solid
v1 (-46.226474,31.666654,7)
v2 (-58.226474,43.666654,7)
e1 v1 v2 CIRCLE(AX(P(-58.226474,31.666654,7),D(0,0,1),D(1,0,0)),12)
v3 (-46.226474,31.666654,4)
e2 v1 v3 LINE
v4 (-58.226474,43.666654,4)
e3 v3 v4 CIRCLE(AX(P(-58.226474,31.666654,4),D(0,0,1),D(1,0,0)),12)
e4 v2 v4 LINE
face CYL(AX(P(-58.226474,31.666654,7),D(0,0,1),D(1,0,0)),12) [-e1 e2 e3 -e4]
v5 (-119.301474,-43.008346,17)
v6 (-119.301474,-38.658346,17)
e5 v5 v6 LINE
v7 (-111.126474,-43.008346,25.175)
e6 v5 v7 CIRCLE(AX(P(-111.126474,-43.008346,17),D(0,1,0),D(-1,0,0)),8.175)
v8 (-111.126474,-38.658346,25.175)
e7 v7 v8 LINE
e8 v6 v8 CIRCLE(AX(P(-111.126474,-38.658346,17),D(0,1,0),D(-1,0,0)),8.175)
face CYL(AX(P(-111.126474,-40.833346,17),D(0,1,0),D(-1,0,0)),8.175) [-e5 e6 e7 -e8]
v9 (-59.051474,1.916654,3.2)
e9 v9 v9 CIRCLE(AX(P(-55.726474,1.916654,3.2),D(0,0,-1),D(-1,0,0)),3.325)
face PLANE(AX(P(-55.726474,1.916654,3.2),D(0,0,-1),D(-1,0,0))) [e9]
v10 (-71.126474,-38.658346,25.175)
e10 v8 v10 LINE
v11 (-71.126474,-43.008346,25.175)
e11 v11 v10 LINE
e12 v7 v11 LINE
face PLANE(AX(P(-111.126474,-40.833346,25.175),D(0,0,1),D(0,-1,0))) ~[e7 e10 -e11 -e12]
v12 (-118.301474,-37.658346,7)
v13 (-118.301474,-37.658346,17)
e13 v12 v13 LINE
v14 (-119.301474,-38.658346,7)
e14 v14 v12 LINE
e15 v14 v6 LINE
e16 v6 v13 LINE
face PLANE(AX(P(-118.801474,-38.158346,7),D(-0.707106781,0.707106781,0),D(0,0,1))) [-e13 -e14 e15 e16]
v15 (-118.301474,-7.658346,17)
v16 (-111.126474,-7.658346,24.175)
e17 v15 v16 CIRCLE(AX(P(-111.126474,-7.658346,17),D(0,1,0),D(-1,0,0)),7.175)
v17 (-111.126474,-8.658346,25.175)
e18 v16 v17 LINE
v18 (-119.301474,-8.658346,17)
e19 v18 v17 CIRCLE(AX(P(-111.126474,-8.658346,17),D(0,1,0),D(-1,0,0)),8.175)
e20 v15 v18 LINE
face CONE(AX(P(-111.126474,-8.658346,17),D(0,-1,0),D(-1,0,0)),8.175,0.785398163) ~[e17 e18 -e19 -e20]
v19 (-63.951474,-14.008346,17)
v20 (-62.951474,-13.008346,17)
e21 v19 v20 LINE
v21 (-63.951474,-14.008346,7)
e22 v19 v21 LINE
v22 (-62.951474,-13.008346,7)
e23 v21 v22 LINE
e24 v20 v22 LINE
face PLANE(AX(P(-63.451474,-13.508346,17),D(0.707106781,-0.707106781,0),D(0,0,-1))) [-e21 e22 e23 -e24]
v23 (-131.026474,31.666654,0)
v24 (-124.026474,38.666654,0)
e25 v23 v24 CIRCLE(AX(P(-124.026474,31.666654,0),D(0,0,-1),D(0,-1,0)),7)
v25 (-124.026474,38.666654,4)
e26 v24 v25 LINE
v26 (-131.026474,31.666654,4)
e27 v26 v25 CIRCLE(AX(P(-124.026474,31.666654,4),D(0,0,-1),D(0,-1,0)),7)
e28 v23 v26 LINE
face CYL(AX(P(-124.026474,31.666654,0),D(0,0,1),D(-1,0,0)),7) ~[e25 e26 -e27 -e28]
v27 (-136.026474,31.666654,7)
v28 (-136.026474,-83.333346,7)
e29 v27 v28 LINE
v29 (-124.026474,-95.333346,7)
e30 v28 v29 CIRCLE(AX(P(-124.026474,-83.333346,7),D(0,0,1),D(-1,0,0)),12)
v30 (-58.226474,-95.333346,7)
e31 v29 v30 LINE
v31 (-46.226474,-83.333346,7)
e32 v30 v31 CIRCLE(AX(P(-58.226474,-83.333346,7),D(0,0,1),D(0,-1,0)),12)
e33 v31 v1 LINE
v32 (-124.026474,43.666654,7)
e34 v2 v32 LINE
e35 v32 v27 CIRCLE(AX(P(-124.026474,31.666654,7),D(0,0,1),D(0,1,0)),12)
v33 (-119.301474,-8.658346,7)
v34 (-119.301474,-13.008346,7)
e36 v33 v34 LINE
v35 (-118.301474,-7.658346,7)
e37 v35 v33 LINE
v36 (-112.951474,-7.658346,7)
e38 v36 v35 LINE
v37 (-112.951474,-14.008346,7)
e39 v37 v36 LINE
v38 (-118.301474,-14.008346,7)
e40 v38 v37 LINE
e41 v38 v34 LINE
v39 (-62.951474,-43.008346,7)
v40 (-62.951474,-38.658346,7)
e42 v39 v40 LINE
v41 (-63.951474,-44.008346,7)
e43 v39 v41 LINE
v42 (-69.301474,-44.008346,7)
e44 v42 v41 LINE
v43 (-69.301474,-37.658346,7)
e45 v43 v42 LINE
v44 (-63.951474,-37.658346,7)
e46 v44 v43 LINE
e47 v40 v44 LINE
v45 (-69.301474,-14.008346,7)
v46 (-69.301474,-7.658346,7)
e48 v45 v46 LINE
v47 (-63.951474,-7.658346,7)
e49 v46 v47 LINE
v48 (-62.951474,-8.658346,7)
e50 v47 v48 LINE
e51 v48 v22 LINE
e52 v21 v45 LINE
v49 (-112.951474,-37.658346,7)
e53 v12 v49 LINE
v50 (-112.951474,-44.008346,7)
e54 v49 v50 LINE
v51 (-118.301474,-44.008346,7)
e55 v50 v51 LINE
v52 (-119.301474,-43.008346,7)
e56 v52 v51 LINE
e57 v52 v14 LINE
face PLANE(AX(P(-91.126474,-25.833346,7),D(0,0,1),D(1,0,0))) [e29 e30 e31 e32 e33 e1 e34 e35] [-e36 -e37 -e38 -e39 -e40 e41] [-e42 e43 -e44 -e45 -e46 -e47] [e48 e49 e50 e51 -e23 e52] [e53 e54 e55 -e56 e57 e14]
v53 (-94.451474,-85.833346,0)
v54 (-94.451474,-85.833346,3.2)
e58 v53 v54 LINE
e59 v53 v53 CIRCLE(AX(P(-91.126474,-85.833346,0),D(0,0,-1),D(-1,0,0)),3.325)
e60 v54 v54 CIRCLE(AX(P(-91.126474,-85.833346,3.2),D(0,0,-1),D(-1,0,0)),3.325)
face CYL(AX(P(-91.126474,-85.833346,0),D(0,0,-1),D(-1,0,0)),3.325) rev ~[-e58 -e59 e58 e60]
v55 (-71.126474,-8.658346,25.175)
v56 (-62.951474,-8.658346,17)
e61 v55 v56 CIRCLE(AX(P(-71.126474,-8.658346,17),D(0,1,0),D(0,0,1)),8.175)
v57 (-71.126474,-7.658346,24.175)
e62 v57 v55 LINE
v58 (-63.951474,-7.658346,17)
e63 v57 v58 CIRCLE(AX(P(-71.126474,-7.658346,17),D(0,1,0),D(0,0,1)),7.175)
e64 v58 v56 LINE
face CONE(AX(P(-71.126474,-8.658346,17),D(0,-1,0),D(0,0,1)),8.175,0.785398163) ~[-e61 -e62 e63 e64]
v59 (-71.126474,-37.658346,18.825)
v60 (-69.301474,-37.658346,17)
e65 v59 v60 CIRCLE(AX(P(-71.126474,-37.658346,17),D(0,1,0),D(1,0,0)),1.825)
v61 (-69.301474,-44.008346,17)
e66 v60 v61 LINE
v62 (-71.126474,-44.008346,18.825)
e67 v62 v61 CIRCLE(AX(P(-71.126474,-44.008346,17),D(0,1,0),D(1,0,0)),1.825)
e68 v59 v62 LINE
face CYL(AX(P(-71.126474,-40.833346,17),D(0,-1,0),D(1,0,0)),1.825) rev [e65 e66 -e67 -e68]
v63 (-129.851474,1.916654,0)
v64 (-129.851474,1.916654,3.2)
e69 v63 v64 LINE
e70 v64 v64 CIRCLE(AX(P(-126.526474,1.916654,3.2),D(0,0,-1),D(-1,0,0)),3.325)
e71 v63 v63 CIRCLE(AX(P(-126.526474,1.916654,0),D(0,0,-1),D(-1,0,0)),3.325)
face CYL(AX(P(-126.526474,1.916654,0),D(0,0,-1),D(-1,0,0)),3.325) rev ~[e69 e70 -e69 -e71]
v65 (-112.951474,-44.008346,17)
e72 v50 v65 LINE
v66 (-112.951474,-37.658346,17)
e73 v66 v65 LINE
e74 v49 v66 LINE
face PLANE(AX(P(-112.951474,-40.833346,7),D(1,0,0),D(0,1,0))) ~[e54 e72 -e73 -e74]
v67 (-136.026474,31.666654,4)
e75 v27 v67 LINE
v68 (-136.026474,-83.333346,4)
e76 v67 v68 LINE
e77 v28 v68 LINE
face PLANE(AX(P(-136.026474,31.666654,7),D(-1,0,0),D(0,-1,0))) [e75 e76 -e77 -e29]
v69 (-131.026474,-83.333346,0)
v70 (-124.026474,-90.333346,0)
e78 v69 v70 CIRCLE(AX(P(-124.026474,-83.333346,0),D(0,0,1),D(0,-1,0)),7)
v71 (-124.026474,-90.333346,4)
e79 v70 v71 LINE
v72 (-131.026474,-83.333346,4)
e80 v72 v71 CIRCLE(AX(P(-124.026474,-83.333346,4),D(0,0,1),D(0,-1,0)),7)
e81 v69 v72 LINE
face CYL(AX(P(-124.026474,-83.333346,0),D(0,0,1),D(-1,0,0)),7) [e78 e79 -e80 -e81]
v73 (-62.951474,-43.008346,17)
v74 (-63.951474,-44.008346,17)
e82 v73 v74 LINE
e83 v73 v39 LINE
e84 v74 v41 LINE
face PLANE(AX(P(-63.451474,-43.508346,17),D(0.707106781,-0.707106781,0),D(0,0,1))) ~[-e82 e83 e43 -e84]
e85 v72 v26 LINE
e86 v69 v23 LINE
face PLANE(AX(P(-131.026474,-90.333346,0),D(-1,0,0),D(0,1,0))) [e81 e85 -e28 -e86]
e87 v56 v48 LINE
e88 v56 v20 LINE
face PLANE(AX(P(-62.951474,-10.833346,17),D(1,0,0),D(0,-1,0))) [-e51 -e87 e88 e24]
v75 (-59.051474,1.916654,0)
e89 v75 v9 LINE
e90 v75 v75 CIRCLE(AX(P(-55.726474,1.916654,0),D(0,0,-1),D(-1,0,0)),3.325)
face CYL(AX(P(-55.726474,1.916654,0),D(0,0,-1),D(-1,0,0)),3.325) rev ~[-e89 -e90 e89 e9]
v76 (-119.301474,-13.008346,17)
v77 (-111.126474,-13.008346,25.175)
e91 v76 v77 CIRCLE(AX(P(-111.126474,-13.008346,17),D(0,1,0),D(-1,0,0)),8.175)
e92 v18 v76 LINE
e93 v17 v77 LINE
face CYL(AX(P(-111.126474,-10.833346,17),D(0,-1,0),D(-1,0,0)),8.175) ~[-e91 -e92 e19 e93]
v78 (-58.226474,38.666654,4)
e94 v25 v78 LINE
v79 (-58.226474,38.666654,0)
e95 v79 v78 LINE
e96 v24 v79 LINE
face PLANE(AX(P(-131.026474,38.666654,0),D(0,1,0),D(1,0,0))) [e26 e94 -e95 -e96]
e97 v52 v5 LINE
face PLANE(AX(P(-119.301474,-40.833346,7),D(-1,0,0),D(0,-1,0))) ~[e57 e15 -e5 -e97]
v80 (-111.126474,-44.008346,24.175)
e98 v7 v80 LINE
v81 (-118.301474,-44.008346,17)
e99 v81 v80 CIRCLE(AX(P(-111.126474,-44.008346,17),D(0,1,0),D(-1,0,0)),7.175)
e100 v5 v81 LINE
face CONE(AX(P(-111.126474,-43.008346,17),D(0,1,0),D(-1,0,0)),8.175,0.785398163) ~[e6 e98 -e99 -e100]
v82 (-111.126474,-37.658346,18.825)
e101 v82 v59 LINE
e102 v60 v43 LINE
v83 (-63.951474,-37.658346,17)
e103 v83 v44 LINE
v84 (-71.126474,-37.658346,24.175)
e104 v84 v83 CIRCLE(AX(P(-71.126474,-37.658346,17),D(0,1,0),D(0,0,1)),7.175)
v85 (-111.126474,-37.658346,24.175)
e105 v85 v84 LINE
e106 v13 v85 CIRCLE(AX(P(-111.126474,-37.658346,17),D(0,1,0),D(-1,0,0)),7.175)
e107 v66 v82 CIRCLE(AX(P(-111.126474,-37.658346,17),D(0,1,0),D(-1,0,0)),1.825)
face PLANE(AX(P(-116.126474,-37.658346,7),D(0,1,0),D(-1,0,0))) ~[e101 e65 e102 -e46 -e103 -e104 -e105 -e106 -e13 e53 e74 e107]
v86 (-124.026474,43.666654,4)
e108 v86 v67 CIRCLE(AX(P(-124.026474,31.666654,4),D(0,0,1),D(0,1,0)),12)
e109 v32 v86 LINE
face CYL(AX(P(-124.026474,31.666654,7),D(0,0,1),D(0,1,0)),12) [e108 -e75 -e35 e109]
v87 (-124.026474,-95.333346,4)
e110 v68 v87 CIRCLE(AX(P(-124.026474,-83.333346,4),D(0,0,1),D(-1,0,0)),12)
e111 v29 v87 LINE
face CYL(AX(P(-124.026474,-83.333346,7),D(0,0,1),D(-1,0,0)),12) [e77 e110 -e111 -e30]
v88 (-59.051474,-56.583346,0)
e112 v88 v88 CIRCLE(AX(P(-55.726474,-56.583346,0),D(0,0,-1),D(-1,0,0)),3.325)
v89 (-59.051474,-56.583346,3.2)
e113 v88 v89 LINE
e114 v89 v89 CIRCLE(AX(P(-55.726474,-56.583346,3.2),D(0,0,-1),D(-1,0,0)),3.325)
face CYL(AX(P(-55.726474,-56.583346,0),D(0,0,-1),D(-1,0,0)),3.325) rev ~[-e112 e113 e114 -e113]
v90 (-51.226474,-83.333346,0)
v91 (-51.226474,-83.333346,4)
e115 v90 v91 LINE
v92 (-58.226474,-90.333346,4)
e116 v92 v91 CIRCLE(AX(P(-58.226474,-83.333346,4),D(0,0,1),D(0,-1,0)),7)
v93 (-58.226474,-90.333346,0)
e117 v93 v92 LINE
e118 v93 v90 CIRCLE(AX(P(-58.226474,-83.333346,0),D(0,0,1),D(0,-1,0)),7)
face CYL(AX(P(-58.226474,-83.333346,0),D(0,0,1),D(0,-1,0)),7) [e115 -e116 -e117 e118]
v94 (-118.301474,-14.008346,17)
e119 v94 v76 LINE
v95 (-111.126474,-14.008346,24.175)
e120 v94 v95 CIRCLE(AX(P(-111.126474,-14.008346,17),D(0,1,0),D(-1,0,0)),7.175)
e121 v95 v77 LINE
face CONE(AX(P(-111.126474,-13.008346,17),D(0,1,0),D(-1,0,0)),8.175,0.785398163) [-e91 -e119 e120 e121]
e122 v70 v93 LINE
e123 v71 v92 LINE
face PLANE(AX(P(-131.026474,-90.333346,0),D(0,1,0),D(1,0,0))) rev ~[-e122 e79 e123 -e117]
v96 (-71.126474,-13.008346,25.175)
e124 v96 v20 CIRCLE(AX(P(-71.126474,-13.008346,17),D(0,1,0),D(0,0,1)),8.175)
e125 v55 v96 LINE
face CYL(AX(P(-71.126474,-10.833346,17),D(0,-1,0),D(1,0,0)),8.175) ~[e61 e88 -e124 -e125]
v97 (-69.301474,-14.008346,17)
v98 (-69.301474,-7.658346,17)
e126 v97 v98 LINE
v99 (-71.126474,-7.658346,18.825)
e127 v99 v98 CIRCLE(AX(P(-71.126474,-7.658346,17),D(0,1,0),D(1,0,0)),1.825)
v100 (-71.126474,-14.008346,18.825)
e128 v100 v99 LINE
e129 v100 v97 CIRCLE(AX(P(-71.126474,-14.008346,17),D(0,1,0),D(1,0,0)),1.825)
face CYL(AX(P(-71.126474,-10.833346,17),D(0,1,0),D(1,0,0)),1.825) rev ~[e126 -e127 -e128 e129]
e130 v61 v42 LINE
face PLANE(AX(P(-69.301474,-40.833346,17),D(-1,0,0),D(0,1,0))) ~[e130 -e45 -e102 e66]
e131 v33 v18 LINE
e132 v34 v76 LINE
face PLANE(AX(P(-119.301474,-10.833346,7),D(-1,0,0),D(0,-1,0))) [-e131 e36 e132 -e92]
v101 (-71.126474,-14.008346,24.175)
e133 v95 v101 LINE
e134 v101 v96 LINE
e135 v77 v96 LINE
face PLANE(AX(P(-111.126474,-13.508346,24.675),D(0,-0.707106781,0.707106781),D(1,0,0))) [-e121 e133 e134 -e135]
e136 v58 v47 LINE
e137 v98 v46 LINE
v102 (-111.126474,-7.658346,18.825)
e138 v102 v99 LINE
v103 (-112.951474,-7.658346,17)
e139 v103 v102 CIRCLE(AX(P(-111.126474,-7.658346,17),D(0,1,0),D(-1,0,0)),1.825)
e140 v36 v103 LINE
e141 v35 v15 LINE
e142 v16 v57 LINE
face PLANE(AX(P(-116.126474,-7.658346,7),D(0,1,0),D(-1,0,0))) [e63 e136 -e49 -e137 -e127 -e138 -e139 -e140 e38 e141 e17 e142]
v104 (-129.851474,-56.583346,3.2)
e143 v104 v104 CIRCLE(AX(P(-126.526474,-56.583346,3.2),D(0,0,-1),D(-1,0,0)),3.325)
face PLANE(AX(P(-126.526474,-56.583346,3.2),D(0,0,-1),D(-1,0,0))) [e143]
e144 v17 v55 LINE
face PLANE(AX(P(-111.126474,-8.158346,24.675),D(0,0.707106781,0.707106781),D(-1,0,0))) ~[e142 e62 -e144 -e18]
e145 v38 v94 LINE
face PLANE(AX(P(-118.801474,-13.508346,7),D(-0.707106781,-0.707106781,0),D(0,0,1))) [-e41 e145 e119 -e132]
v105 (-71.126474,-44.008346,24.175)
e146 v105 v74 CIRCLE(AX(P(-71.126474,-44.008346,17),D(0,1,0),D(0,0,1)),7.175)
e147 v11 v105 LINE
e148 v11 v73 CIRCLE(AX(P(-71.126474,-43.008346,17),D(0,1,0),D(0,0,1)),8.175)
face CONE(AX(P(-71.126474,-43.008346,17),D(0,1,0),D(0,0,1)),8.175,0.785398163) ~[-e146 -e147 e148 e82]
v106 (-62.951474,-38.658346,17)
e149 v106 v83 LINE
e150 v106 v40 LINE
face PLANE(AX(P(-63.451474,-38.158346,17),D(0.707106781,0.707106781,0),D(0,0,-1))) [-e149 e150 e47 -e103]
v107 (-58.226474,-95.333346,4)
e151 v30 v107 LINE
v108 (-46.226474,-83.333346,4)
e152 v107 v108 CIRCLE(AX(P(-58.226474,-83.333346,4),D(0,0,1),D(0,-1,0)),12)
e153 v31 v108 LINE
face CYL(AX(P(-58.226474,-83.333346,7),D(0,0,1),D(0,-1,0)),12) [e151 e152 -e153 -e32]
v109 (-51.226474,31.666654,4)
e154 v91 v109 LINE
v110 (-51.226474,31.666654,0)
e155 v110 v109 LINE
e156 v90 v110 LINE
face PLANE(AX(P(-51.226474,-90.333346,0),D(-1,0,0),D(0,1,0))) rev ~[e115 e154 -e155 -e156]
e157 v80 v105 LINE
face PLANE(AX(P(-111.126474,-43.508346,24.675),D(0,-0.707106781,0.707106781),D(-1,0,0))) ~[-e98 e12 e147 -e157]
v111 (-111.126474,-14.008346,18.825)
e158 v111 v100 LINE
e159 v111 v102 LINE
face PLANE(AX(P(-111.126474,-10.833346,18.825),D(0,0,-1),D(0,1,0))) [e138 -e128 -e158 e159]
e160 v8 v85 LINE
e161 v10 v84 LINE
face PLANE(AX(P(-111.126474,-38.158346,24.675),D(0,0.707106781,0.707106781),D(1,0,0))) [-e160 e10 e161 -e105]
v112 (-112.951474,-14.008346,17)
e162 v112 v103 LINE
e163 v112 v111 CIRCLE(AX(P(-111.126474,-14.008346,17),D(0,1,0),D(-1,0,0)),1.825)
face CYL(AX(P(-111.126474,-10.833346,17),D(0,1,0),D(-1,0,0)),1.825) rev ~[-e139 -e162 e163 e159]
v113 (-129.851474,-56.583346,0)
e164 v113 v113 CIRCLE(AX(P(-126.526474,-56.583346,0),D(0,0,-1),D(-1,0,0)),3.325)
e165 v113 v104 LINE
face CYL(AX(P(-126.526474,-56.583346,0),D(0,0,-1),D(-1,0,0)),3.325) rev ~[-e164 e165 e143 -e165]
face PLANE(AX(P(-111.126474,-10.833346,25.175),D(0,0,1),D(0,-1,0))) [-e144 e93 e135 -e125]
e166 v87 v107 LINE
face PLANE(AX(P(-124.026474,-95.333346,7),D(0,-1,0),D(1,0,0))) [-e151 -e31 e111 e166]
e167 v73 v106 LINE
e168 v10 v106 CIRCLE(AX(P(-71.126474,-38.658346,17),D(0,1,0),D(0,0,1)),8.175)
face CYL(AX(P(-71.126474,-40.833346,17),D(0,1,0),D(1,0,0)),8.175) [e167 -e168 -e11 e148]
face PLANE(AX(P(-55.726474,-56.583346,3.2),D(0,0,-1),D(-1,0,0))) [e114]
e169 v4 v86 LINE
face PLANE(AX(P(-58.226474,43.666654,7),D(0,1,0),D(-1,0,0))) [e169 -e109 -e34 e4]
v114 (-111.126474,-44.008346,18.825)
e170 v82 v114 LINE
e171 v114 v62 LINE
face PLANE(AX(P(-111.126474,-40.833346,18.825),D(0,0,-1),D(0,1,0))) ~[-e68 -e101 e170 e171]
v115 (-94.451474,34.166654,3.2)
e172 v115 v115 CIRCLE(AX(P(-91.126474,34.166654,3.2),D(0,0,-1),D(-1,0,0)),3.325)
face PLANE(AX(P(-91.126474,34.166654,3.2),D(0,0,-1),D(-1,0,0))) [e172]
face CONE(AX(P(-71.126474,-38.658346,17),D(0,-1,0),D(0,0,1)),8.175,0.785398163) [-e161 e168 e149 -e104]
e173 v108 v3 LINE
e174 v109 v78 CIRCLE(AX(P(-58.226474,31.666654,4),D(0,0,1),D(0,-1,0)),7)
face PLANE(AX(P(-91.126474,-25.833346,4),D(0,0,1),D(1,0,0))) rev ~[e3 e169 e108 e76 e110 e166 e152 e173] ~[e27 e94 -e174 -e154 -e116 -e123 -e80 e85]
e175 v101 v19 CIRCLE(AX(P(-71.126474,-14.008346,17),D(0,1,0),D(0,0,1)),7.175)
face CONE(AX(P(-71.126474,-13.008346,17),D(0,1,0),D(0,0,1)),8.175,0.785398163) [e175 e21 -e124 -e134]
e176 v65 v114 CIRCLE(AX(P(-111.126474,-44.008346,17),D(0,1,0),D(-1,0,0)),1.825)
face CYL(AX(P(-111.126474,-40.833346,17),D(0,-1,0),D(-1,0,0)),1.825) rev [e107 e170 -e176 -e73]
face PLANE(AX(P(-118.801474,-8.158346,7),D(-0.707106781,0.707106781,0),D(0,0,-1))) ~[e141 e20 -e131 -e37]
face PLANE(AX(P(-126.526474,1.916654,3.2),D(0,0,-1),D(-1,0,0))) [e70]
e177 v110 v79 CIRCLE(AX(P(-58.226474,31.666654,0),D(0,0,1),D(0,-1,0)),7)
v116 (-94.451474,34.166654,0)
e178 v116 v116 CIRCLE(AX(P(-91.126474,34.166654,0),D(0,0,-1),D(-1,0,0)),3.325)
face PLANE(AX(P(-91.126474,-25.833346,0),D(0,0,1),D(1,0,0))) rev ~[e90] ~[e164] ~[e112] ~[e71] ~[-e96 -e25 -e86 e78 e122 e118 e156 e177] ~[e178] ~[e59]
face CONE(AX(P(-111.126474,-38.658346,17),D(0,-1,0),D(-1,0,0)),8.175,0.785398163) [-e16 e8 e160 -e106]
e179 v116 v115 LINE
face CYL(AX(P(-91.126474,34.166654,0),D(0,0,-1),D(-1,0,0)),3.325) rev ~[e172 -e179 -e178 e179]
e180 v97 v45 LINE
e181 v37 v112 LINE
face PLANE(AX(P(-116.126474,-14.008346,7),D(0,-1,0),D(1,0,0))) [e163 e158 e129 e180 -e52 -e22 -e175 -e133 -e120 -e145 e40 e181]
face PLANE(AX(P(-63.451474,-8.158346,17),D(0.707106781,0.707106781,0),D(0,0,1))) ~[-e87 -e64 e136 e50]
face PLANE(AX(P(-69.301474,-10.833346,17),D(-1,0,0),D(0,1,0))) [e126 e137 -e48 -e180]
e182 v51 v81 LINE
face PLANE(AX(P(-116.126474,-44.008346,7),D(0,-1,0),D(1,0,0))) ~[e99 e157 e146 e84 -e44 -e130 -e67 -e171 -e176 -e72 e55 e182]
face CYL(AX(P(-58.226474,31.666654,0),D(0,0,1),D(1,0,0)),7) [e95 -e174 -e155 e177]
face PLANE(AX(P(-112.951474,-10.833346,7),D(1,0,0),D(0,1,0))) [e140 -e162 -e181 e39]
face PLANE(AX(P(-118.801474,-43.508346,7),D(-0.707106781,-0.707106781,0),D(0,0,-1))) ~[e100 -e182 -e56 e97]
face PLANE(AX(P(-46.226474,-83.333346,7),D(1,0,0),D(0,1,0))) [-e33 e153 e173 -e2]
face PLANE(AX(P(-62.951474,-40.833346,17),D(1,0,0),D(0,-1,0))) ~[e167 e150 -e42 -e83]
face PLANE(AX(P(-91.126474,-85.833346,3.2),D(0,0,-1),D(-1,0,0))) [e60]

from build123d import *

# Parameters (mm, degrees)
SKETCH1_W                = 79.8
SKETCH1_H                = 129
BOSS_EXTRUDE1_DEPTH      = 4
FILLET1_R                = 7
SKETCH2_R                = 3.325
CUT_EXTRUDE2_DEPTH       = 3.2
BOSS_EXTRUDE3_START      = 3
BOSS_EXTRUDE3_DEPTH      = 3
SKETCH6_W                = 6.35
SKETCH6_H                = 6.35
CHAMFER1_SIZE            = 1
CHAMFER1_OF_MIRROR1_SIZE = 1


with BuildPart() as part:
    # Sketch1 → Boss-Extrude1 (new body)
    with BuildSketch(Plane.XY):
        with Locations((-91.126473502, -25.83334618)):
            Rectangle(SKETCH1_W, SKETCH1_H)
    extrude(amount=BOSS_EXTRUDE1_DEPTH)

    # Fillet1
    fillet1_edges = [part.edges().sort_by_distance(p)[0] for p in [
        (-131.026473502, 38.66665382, 2),
        (-51.226473502, 38.66665382, 2),
        (-51.226473502, -90.33334618, 2),
        (-131.026473502, -90.33334618, 2),
    ]]
    fillet(fillet1_edges, radius=FILLET1_R)

    # Sketch2 → Cut-Extrude2 (cut)
    with BuildSketch(Plane(origin=(0, 0, 0), x_dir=(-1, 0, 0), z_dir=(0, 0, -1))):
        with Locations((55.726473502, 1.91665382)):
            Circle(SKETCH2_R)
        with Locations((91.126473502, 34.16665382)):
            Circle(SKETCH2_R)
        with Locations((55.726473502, -56.58334618)):
            Circle(SKETCH2_R)
        with Locations((91.126473502, -85.83334618)):
            Circle(SKETCH2_R)
        with Locations((126.526473502, 1.91665382)):
            Circle(SKETCH2_R)
        with Locations((126.526473502, -56.58334618)):
            Circle(SKETCH2_R)
    extrude(amount=-CUT_EXTRUDE2_DEPTH, mode=Mode.SUBTRACT)

    # Sketch3 → Boss-Extrude3 (add)
    # profile 1 of 3: a face of its own
    with BuildSketch(Plane.XY.offset(4).offset(BOSS_EXTRUDE3_START)):
        with BuildLine():
            Line((-136.026473502, 31.66665382), (-136.026473502, -83.33334618))
            ThreePointArc((-136.026473502, -83.33334618), (-132.511754876, -91.818627555), (-124.026473502, -95.33334618))
            Line((-124.026473502, -95.33334618), (-58.226473502, -95.33334618))
            ThreePointArc((-58.226473502, -95.33334618), (-49.741192128, -91.818627555), (-46.226473502, -83.33334618))
            Line((-46.226473502, -83.33334618), (-46.226473502, 31.66665382))
            ThreePointArc((-46.226473502, 31.66665382), (-49.741192128, 40.151935194), (-58.226473502, 43.66665382))
            Line((-58.226473502, 43.66665382), (-124.026473502, 43.66665382))
            ThreePointArc((-124.026473502, 43.66665382), (-132.511754876, 40.151935194), (-136.026473502, 31.66665382))
        make_face()
        with BuildLine():
            Line((-124.026473502, -90.33334618), (-58.226473502, -90.33334618))
            ThreePointArc((-58.226473502, -90.33334618), (-53.276726034, -88.283093649), (-51.226473502, -83.33334618))
            Line((-51.226473502, -83.33334618), (-51.226473502, 31.66665382))
            ThreePointArc((-51.226473502, 31.66665382), (-53.276726034, 36.616401288), (-58.226473502, 38.66665382))
            Line((-58.226473502, 38.66665382), (-124.026473502, 38.66665382))
            ThreePointArc((-124.026473502, 38.66665382), (-128.976220971, 36.616401288), (-131.026473502, 31.66665382))
            Line((-131.026473502, 31.66665382), (-131.026473502, -83.33334618))
            ThreePointArc((-131.026473502, -83.33334618), (-128.976220971, -88.283093649), (-124.026473502, -90.33334618))
        make_face(mode=Mode.SUBTRACT)
    # profile 2 of 3: a face of its own
    with BuildSketch(Plane.XY.offset(4).offset(BOSS_EXTRUDE3_START)):
        with BuildLine():
            ThreePointArc((-131.026473502, -83.33334618), (-128.976220971, -88.283093649), (-124.026473502, -90.33334618))
            Line((-124.026473502, -90.33334618), (-58.226473502, -90.33334618))
            ThreePointArc((-58.226473502, -90.33334618), (-53.276726034, -88.283093649), (-51.226473502, -83.33334618))
            Line((-51.226473502, -83.33334618), (-51.226473502, 31.66665382))
            ThreePointArc((-51.226473502, 31.66665382), (-53.276726034, 36.616401288), (-58.226473502, 38.66665382))
            Line((-58.226473502, 38.66665382), (-124.026473502, 38.66665382))
            ThreePointArc((-124.026473502, 38.66665382), (-128.976220971, 36.616401288), (-131.026473502, 31.66665382))
            Line((-131.026473502, 31.66665382), (-131.026473502, -83.33334618))
        make_face()
    # profile 3 of 3: a face of its own
    with BuildSketch(Plane.XY.offset(4).offset(BOSS_EXTRUDE3_START)):
        with BuildLine():
            Line((-124.026473502, -90.33334618), (-58.226473502, -90.33334618))
            ThreePointArc((-58.226473502, -90.33334618), (-53.276726034, -88.283093649), (-51.226473502, -83.33334618))
            Line((-51.226473502, -83.33334618), (-51.226473502, 31.66665382))
            ThreePointArc((-51.226473502, 31.66665382), (-53.276726034, 36.616401288), (-58.226473502, 38.66665382))
            Line((-58.226473502, 38.66665382), (-124.026473502, 38.66665382))
            ThreePointArc((-124.026473502, 38.66665382), (-128.976220971, 36.616401288), (-131.026473502, 31.66665382))
            Line((-131.026473502, 31.66665382), (-131.026473502, -83.33334618))
            ThreePointArc((-131.026473502, -83.33334618), (-128.976220971, -88.283093649), (-124.026473502, -90.33334618))
        make_face()
    extrude(amount=-BOSS_EXTRUDE3_DEPTH)

    # Sweep1: sweep along a curve in space
    with BuildLine() as sweep1_path:
        Line((-116.126473502, -10.83334618, 7), (-116.126473502, -10.83334618, 17))
        ThreePointArc((-116.126473502, -10.83334618, 17), (-114.662007408, -10.83334618, 20.535533906), (-111.126473502, -10.83334618, 22))
        Line((-111.126473502, -10.83334618, 22), (-71.126473502, -10.83334618, 22))
        ThreePointArc((-66.126473502, -10.83334618, 17), (-67.590939596, -10.83334618, 20.535533906), (-71.126473502, -10.83334618, 22))
        Line((-66.126473502, -10.83334618, 17), (-66.126473502, -10.83334618, 7))
    # Sketch6 → Sweep1 (sweep)
    with BuildSketch(Plane.XY.offset(7)):
        with Locations((-116.126473502, -10.83334618)):
            Rectangle(SKETCH6_W, SKETCH6_H)
    sweep1 = sweep(path=sweep1_path.line)

    # Chamfer1
    chamfer1_edges = [part.edges().sort_by_distance(p)[0] for p in [
        (-119.301473502, -14.00834618, 12),
        (-119.301473502, -7.65834618, 12),
        (-116.907071438, -14.00834618, 22.780597936),
        (-116.907071438, -7.65834618, 22.780597936),
        (-91.126473502, -14.00834618, 25.175),
        (-91.126473502, -7.65834618, 25.175),
        (-65.345875566, -14.00834618, 22.780597936),
        (-65.345875566, -7.65834618, 22.780597936),
        (-62.951473502, -14.00834618, 12),
        (-62.951473502, -7.65834618, 12),
    ]]
    chamfer(chamfer1_edges, length=CHAMFER1_SIZE)

    # Mirror1: Sweep1 across plane
    add(sweep1.mirror(Plane.ZX.offset(-25.83334618)))

    # Chamfer1 of Mirror1
    chamfer1_of_mirror1_edges = [part.edges().sort_by_distance(p)[0] for p in [
        (-119.301473502, -37.65834618, 12),
        (-119.301473502, -44.00834618, 12),
        (-116.907071438, -37.65834618, 22.780597936),
        (-116.907071438, -44.00834618, 22.780597936),
        (-91.126473502, -37.65834618, 25.175),
        (-91.126473502, -44.00834618, 25.175),
        (-65.345875566, -37.65834618, 22.780597936),
        (-65.345875566, -44.00834618, 22.780597936),
        (-62.951473502, -37.65834618, 12),
        (-62.951473502, -44.00834618, 12),
    ]]
    chamfer(chamfer1_of_mirror1_edges, length=CHAMFER1_OF_MIRROR1_SIZE)


solid = part.part
